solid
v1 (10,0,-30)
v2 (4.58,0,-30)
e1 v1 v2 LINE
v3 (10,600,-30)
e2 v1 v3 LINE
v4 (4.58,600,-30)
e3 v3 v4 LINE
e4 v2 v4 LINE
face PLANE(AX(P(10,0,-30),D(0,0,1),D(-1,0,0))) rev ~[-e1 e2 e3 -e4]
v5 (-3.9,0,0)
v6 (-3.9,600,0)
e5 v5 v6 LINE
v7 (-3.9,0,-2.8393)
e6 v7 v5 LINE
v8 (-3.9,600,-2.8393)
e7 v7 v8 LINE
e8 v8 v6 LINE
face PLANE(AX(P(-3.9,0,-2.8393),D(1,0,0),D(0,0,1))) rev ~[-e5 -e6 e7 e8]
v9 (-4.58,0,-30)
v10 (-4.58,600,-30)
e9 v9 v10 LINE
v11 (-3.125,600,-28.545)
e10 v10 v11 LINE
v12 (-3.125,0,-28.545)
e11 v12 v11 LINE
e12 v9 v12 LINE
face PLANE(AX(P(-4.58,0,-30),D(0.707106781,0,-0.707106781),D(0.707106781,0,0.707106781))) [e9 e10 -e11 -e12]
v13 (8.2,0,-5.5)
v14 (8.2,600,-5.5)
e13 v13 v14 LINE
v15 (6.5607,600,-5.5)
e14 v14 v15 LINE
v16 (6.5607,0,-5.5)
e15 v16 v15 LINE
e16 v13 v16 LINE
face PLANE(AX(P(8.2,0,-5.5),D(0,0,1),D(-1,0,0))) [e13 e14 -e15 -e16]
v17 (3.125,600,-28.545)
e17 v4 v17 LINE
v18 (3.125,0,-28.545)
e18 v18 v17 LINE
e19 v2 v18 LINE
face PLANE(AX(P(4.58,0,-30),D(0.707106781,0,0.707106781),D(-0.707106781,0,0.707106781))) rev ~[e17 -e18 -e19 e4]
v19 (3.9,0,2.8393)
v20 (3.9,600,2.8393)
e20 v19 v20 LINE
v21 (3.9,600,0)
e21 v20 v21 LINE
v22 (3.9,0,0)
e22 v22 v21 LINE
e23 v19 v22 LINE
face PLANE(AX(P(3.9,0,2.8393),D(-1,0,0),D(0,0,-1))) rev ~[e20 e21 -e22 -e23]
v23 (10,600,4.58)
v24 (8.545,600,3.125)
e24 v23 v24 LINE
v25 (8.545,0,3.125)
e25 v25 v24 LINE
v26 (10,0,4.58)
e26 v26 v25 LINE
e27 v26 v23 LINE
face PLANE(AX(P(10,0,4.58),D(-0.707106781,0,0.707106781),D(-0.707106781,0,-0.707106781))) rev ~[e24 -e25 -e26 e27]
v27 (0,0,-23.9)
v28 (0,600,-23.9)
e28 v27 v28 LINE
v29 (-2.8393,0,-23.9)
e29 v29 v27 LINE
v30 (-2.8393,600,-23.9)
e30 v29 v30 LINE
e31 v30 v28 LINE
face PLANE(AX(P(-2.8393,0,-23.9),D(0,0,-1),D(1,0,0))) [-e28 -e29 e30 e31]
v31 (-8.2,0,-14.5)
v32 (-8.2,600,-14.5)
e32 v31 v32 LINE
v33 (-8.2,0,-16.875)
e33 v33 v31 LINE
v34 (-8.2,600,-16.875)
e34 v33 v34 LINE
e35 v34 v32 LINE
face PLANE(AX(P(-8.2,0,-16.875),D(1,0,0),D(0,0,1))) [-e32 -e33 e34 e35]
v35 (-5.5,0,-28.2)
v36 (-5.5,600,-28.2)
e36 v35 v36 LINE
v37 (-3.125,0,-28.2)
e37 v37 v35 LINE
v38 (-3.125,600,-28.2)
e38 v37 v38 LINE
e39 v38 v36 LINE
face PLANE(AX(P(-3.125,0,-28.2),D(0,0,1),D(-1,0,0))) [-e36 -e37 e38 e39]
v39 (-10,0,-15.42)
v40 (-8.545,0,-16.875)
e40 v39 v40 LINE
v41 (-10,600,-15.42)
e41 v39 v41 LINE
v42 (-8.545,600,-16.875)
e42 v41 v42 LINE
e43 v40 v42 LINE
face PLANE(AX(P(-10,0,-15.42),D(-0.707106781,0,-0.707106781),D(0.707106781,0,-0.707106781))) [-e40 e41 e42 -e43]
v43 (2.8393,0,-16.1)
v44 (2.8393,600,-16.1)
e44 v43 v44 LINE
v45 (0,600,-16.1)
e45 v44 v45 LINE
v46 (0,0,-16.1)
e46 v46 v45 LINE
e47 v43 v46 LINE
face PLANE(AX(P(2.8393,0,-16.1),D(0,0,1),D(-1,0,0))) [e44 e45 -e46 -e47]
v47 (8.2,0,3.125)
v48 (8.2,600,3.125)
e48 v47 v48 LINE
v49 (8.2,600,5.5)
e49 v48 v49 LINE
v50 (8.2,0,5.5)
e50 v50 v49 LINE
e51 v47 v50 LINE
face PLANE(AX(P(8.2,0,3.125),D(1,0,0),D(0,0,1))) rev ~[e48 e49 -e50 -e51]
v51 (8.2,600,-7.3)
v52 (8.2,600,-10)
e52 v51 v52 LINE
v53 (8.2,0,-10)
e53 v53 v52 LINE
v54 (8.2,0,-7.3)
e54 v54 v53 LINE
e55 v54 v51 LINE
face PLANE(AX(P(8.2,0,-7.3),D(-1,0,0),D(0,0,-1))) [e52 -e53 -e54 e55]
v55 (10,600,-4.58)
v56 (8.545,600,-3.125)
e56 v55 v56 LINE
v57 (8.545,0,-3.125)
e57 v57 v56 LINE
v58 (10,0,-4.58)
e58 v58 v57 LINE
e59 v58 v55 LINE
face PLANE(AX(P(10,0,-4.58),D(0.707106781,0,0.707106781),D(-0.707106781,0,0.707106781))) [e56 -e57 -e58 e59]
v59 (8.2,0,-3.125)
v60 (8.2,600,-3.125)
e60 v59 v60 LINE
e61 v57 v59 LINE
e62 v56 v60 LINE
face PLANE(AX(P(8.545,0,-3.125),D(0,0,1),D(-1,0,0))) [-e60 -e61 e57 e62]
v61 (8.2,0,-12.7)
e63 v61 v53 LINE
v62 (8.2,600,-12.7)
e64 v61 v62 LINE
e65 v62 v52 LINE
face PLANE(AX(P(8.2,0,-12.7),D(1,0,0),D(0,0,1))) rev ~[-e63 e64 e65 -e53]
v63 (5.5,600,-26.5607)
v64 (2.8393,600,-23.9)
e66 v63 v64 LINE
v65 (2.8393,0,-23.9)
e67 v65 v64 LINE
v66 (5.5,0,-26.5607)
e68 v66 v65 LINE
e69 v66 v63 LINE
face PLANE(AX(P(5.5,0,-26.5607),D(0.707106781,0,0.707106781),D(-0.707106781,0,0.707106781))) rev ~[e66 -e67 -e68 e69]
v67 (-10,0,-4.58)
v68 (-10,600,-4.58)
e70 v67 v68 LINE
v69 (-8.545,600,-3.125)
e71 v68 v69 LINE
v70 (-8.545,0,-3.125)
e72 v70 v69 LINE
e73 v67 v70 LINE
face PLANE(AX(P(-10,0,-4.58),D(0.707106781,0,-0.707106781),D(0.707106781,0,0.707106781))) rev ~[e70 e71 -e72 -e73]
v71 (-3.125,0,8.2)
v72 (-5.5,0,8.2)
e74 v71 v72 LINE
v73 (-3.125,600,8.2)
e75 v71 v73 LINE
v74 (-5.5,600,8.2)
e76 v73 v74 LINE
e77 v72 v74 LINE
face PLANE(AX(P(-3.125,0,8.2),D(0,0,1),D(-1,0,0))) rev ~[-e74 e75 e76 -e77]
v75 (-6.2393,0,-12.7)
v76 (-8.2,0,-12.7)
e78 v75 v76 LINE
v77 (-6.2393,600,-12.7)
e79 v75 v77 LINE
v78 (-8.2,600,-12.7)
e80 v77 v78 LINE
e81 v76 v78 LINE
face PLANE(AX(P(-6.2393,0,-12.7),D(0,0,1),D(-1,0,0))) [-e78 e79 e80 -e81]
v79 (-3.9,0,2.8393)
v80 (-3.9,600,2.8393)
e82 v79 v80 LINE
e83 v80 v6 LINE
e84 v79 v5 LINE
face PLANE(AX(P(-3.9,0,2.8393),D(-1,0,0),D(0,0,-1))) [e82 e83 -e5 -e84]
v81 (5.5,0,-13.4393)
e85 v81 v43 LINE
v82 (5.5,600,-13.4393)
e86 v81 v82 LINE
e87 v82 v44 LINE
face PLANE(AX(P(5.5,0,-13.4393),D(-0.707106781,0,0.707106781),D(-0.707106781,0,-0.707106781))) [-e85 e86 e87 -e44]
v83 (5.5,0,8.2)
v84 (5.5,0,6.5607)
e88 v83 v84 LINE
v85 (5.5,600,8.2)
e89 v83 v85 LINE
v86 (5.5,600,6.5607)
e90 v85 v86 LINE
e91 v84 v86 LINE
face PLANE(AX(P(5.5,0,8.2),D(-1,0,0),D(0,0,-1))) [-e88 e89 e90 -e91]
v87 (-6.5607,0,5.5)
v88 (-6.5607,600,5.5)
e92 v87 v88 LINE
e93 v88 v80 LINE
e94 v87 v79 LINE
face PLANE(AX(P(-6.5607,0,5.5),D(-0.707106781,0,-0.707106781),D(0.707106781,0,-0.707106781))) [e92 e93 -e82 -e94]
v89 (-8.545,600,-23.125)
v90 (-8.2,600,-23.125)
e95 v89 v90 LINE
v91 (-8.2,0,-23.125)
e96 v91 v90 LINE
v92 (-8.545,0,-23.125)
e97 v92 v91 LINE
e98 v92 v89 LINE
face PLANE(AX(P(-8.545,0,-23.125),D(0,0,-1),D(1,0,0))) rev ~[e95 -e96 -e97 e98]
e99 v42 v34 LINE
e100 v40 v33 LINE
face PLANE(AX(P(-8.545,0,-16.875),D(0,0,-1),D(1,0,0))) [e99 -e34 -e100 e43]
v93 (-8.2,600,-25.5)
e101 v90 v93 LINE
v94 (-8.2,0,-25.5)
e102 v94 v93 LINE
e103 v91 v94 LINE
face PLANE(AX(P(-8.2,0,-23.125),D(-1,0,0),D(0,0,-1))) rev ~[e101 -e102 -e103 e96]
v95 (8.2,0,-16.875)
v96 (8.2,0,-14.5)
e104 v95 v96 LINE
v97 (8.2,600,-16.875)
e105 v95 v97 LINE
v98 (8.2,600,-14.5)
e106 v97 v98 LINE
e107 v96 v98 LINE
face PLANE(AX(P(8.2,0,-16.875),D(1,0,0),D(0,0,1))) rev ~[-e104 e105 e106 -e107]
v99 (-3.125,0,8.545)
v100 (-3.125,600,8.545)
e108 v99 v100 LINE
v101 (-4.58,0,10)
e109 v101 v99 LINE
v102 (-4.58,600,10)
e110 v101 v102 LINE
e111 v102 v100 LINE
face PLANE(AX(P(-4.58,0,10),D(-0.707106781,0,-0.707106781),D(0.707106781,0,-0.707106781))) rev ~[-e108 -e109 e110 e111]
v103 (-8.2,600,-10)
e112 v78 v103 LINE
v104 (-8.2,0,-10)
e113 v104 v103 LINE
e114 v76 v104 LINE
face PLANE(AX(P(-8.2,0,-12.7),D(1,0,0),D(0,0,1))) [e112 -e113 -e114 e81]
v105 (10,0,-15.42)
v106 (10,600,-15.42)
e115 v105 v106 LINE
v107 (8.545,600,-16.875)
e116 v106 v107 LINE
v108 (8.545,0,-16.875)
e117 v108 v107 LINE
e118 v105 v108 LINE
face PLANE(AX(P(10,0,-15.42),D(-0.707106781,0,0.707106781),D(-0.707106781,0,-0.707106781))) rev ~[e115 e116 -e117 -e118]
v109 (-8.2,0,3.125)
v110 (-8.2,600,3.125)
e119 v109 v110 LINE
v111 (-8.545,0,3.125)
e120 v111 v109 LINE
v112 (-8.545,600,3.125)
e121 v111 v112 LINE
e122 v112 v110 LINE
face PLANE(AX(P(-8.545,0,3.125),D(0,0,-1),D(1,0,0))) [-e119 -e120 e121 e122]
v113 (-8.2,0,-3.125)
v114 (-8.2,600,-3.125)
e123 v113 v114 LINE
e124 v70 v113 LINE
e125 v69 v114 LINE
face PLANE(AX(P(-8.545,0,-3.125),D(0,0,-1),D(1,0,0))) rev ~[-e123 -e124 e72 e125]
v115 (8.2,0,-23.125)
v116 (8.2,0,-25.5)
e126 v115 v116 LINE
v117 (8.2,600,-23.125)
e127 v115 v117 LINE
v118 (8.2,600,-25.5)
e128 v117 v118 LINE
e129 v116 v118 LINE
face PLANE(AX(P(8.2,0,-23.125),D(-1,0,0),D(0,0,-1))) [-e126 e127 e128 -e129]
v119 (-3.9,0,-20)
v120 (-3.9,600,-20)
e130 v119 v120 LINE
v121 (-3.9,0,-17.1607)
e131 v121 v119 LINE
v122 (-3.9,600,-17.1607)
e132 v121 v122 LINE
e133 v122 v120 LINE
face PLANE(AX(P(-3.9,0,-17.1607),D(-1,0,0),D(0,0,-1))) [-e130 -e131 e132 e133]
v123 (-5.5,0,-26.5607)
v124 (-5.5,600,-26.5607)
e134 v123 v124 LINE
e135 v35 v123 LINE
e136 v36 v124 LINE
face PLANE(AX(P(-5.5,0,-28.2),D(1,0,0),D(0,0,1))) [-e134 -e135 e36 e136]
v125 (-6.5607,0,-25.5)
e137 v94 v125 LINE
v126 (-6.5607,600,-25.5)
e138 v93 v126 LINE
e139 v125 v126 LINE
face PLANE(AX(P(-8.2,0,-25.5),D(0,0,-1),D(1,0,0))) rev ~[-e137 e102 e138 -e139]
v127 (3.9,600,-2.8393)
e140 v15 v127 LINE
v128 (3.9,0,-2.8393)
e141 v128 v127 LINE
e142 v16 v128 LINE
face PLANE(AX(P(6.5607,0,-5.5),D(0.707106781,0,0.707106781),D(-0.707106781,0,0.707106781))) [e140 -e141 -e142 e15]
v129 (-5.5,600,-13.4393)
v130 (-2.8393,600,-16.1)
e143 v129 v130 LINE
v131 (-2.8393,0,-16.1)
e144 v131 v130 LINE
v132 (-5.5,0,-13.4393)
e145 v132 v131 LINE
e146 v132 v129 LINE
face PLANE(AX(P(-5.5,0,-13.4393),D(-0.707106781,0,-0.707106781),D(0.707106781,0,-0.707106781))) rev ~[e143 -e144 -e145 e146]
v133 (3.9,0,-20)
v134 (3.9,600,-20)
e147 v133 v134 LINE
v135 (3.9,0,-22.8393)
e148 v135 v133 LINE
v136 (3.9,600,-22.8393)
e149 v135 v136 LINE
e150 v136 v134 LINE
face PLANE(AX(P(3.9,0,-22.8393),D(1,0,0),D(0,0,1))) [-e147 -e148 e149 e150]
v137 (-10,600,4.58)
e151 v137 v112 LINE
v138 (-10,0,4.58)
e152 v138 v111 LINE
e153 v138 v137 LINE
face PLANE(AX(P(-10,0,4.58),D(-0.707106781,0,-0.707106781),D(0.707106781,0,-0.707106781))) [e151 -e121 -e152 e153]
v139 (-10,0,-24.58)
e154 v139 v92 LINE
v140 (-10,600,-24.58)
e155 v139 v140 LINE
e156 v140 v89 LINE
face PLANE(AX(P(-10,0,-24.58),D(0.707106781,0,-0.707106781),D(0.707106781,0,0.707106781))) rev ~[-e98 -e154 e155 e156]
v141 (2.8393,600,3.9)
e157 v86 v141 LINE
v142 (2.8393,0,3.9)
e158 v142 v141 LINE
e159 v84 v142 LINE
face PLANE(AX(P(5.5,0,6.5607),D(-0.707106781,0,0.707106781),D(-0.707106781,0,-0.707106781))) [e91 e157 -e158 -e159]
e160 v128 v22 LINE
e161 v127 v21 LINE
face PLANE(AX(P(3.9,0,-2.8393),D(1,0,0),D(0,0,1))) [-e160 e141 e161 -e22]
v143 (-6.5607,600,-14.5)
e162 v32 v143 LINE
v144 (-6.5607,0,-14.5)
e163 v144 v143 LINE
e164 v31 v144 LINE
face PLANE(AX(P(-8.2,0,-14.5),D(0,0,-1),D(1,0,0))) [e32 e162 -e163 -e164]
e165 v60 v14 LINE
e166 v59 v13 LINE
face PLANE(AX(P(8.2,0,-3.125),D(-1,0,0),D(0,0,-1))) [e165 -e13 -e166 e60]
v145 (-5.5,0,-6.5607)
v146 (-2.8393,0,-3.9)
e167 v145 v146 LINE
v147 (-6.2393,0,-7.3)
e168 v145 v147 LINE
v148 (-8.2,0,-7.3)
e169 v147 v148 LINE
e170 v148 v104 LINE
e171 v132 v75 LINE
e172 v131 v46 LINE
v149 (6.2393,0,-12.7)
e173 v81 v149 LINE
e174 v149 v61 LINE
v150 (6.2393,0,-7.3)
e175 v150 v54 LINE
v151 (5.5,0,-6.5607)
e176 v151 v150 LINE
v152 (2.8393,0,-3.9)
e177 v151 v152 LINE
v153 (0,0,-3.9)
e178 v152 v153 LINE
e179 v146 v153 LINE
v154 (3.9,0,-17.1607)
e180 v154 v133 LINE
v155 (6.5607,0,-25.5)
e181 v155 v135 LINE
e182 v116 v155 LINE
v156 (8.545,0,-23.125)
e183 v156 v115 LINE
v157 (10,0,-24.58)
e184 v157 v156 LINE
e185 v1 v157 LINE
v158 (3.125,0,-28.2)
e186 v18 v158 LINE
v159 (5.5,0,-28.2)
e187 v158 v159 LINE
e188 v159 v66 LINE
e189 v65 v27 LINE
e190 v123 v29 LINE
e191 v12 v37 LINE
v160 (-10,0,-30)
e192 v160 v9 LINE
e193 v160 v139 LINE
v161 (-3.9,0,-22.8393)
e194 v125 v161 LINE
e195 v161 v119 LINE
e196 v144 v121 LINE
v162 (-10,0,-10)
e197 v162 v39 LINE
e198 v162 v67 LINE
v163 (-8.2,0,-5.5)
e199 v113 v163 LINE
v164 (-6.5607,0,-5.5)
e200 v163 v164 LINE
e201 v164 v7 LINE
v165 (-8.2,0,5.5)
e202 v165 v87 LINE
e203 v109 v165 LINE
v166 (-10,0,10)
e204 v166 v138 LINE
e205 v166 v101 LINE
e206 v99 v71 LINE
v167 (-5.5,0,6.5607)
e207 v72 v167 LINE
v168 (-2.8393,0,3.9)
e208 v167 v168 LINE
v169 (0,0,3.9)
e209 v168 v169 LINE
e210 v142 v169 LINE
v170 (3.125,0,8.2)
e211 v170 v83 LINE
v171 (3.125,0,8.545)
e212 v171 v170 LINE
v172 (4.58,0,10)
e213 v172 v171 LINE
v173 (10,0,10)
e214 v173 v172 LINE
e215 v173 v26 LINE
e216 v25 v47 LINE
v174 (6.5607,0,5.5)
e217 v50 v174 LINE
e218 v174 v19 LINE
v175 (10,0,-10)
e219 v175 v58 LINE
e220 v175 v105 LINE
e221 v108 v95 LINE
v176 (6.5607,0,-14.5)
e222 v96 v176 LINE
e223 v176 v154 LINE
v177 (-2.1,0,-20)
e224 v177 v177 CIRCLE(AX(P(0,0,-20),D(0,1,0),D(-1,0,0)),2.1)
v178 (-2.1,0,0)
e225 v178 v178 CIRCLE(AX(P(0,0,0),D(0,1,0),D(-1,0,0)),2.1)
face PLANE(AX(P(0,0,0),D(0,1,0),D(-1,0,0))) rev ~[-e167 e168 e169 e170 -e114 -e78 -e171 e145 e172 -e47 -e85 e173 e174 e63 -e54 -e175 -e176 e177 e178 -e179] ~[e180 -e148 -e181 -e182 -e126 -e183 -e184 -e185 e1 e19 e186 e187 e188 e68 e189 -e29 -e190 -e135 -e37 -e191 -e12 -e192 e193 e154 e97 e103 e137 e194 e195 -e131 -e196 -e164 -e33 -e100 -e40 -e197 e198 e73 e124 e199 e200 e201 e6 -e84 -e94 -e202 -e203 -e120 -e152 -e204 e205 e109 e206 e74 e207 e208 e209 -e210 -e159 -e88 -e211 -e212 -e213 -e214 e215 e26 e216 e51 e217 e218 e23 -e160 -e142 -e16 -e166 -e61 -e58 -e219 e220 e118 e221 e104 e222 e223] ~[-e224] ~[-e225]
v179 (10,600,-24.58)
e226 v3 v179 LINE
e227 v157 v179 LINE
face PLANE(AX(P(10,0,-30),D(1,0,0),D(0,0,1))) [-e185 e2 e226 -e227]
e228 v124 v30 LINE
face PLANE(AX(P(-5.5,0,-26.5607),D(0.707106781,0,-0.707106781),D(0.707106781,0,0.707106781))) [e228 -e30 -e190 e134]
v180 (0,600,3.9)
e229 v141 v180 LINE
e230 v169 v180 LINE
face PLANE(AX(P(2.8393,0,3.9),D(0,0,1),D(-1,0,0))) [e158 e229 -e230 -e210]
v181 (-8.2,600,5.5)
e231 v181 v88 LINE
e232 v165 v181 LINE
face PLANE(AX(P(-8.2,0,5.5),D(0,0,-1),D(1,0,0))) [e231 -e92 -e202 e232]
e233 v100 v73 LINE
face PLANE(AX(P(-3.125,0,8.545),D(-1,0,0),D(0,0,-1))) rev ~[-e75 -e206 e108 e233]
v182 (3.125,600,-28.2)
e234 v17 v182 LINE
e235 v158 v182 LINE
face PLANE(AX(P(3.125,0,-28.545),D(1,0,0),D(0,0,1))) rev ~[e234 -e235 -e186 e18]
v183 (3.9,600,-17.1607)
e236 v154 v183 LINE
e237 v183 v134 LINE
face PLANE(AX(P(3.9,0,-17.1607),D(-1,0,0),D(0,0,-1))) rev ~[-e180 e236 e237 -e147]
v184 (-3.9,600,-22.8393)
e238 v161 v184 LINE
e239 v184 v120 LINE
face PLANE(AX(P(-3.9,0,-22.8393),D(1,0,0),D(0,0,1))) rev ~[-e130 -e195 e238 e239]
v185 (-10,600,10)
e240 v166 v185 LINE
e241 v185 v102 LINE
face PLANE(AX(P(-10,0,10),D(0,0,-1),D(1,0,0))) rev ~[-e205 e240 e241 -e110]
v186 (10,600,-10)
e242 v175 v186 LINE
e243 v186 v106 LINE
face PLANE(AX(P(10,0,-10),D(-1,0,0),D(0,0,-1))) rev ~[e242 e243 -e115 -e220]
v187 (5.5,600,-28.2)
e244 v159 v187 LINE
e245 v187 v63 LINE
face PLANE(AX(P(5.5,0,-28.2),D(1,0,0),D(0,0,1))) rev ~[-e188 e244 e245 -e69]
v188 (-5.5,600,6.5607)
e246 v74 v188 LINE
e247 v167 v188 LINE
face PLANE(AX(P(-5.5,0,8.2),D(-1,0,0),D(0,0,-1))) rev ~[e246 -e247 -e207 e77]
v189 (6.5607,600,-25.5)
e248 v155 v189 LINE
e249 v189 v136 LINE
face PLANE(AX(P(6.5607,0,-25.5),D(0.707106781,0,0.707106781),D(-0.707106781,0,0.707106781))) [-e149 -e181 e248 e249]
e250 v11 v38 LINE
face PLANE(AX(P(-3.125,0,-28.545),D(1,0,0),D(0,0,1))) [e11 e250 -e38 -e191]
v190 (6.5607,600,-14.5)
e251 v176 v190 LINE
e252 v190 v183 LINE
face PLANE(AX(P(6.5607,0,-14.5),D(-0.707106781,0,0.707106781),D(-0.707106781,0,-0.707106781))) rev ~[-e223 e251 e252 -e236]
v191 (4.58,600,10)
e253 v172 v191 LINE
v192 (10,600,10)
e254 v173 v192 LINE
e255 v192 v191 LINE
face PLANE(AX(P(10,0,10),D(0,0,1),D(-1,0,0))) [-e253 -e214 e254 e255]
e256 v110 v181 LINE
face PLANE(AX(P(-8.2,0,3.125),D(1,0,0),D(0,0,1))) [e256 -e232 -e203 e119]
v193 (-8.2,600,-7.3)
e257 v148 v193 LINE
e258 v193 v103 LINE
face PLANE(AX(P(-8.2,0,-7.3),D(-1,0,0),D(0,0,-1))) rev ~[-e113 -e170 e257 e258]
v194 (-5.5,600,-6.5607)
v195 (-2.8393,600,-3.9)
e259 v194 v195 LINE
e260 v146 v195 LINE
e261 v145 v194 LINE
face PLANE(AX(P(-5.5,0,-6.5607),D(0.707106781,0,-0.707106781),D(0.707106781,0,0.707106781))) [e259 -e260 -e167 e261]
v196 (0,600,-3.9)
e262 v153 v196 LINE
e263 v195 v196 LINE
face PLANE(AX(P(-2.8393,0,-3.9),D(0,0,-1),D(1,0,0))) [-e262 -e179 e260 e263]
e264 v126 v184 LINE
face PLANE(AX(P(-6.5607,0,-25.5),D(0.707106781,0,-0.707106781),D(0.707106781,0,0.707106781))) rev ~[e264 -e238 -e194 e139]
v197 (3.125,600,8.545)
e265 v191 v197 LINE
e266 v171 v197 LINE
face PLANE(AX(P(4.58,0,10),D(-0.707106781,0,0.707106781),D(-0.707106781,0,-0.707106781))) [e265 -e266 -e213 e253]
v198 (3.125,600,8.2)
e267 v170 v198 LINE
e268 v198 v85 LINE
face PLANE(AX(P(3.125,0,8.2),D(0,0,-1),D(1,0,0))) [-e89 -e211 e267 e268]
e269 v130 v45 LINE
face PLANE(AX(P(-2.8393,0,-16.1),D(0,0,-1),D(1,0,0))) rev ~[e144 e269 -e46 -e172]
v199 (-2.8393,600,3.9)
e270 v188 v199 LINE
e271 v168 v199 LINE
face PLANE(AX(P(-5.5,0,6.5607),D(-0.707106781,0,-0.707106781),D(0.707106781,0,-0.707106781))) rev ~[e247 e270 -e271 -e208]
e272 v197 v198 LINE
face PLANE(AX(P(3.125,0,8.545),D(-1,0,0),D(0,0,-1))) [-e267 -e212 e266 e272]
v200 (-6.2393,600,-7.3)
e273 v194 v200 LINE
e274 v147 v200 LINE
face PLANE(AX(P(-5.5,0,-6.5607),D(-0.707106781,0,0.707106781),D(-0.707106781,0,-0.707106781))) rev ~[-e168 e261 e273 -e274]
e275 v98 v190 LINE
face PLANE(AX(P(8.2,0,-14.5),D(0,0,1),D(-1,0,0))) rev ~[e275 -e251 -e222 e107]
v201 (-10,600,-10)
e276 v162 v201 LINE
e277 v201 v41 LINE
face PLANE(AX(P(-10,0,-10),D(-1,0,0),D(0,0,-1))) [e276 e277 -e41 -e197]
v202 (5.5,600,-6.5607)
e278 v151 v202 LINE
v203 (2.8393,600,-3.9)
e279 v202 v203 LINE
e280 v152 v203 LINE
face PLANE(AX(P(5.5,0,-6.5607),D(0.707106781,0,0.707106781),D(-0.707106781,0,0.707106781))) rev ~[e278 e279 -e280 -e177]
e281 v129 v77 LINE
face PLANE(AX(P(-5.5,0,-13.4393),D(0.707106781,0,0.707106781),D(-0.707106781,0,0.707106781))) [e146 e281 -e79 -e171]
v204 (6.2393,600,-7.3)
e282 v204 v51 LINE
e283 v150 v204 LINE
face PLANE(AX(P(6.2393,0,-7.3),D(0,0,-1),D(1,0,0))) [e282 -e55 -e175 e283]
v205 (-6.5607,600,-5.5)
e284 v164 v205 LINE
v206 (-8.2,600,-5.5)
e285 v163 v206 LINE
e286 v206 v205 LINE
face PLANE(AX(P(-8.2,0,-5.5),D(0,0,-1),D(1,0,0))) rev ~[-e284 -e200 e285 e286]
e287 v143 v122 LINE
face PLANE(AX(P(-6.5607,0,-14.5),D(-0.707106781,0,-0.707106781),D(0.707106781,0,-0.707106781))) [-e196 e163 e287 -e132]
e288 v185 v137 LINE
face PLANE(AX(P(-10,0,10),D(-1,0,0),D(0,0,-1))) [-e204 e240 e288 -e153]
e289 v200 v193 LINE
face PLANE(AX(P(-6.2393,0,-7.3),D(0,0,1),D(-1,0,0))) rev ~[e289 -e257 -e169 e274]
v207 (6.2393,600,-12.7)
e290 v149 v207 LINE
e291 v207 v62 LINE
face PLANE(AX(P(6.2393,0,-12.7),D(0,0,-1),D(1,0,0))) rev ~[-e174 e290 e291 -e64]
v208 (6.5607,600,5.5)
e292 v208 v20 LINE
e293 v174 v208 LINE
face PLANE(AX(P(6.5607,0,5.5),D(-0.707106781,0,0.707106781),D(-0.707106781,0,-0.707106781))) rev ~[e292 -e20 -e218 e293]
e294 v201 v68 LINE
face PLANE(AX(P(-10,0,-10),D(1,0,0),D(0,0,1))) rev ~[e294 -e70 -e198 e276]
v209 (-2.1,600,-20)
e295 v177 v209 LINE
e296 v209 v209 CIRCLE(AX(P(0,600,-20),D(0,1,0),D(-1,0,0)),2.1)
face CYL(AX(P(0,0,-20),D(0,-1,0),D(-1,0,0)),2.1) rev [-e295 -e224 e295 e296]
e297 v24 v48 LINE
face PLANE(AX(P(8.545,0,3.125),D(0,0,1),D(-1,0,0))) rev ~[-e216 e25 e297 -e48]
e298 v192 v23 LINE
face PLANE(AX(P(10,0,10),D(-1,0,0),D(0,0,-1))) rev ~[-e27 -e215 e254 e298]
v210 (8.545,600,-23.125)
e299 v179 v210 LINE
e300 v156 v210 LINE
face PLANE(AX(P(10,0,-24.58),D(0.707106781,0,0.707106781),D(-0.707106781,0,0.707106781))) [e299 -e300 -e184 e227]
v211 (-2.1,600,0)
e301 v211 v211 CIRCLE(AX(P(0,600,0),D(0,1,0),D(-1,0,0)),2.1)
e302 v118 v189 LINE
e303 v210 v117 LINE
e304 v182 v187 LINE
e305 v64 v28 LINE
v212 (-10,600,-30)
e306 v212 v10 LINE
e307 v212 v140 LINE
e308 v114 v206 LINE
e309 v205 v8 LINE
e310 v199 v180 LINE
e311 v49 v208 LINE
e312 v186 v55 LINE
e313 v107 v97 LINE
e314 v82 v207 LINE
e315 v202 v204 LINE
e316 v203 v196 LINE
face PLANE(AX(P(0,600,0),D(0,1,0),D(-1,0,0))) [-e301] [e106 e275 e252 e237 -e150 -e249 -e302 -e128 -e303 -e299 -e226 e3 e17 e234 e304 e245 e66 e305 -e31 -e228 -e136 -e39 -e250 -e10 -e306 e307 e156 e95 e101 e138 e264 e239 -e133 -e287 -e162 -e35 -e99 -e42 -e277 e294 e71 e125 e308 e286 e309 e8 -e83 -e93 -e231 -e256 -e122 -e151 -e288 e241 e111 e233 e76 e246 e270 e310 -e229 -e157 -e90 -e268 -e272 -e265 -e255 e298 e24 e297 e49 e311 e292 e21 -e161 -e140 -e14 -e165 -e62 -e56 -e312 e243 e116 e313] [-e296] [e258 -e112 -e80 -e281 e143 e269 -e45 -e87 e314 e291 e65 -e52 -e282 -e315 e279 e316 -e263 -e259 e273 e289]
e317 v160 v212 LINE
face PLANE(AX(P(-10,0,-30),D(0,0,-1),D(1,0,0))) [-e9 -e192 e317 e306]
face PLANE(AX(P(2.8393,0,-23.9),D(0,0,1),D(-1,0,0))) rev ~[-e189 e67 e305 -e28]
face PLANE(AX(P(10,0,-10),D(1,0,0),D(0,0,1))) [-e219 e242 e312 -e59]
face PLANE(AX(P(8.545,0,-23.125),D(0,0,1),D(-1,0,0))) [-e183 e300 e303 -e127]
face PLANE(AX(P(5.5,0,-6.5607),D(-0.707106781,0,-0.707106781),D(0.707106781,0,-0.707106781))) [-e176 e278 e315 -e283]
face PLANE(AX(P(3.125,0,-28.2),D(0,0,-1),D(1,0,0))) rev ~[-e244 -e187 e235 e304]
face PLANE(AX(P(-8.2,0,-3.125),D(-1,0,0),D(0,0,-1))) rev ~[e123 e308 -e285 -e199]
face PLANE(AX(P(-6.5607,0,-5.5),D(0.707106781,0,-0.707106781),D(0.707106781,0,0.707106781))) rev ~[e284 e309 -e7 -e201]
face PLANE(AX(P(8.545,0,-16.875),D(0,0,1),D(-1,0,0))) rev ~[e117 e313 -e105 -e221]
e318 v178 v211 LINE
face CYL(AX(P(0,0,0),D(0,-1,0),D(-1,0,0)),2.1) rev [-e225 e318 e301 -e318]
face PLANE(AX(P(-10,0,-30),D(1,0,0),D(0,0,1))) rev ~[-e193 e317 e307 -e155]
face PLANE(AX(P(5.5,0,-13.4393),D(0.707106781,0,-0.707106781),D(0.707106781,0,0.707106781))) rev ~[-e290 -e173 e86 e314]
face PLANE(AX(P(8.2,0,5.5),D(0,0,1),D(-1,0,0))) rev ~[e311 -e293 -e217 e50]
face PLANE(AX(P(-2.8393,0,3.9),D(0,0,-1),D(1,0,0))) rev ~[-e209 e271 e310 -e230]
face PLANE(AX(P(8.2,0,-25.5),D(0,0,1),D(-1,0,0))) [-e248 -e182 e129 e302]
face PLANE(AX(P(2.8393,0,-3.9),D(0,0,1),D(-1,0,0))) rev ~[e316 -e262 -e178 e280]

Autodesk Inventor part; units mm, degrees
ref_plane "YZ Plane" through (0, 0, 0) normal (1, 0, 0) x (0, 1, 0)
ref_plane "XZ Plane" through (0, 0, 0) normal (0, 1, 0) x (-1, 0, 0)
ref_plane "XY Plane" through (0, 0, 0) normal (0, 0, 1) x (1, 0, 0)
sketch "Sketch1" plane through (0, 0, 0) normal (0, 1, 0) x (-1, 0, 0)
  circle A0 centre (0, 0) radius 2.1
  line L0 (10, 10) -> (-10, 10) construction
  line L1 (-10, 10) -> (-10, -10) construction
  line L2 (-10, -10) -> (10, -10) construction
  line L3 (10, -10) -> (10, 10) construction
  line L4 (10, 10) -> (-10, -10) construction
  line L5 (-10, 10) -> (10, -10) construction
  line L6 (8.2, 10) -> (8.2, -10) construction
  line L7 (3.9, 10) -> (3.9, -10) construction
  line L8 (8.2, 3.125) -> (8.2, -3.125) construction
  line L9 (10, 4.58) -> (10, -4.58) construction
  line L10 (8.2, 5.5) -> (8.2, -5.5) construction
  line L11 (3.3697, 4.4303) -> (4.4303, 3.3697) construction
  line L12 (10, 10) -> (10, 4.58)
  line L13 (10, 4.58) -> (8.545, 3.125)
  line L14 (8.545, 3.125) -> (8.2, 3.125)
  line L15 (8.2, 3.125) -> (8.2, 5.5)
  line L16 (14, 0) -> (-14, 0) construction
  line L17 (8.2, 5.5) -> (6.5607, 5.5)
  line L18 (6.5607, 5.5) -> (3.9, 2.8393)
  line L19 (3.9, 2.8393) -> (3.9, 0)
  line L20 (10, -10) -> (10, -4.58)
  line L21 (10, -4.58) -> (8.545, -3.125)
  line L22 (8.545, -3.125) -> (8.2, -3.125)
  line L23 (8.2, -3.125) -> (8.2, -5.5)
  line L24 (8.2, -5.5) -> (6.5607, -5.5)
  line L25 (6.5607, -5.5) -> (3.9, -2.8393)
  line L26 (3.9, -2.8393) -> (3.9, 0)
  line L27 (-10, 10) -> (-4.58, 10)
  line L28 (-4.58, 10) -> (-3.125, 8.545)
  line L29 (-3.125, 8.2) -> (-5.5, 8.2)
  line L30 (-5.5, 8.2) -> (-5.5, 6.5607)
  line L31 (-5.5, 6.5607) -> (-2.8393, 3.9)
  line L32 (-2.8393, 3.9) -> (0, 3.9)
  line L33 (2.8393, 3.9) -> (0, 3.9)
  line L34 (5.5, 6.5607) -> (2.8393, 3.9)
  line L35 (5.5, 8.2) -> (5.5, 6.5607)
  line L36 (3.125, 8.2) -> (5.5, 8.2)
  line L37 (3.125, 8.545) -> (3.125, 8.2)
  line L38 (4.58, 10) -> (3.125, 8.545)
  line L39 (-3.125, 8.545) -> (-3.125, 8.2)
  line L40 (10, 10) -> (4.58, 10)
  line L41 (-10, -10) -> (-10, -4.58)
  line L42 (-10, -4.58) -> (-8.545, -3.125)
  line L43 (-8.2, -3.125) -> (-8.2, -5.5)
  line L44 (-8.2, -5.5) -> (-6.5607, -5.5)
  line L45 (-6.5607, -5.5) -> (-3.9, -2.8393)
  line L46 (-3.9, -2.8393) -> (-3.9, 0)
  line L47 (-3.9, 2.8393) -> (-3.9, 0)
  line L48 (-6.5607, 5.5) -> (-3.9, 2.8393)
  line L49 (-8.2, 5.5) -> (-6.5607, 5.5)
  line L50 (-8.2, 3.125) -> (-8.2, 5.5)
  line L51 (-8.545, 3.125) -> (-8.2, 3.125)
  line L52 (-10, 4.58) -> (-8.545, 3.125)
  line L53 (-8.545, -3.125) -> (-8.2, -3.125)
  line L54 (-10, 10) -> (-10, 4.58)
  line L55 (10, -10) -> (4.58, -10) construction
  line L56 (4.58, -10) -> (3.125, -8.545) construction
  line L57 (3.125, -8.2) -> (5.5, -8.2) construction
  line L58 (5.5, -8.2) -> (5.5, -6.5607) construction
  line L59 (5.5, -6.5607) -> (2.8393, -3.9)
  line L60 (2.8393, -3.9) -> (0, -3.9)
  line L61 (-2.8393, -3.9) -> (0, -3.9)
  line L62 (-5.5, -6.5607) -> (-2.8393, -3.9)
  line L63 (-5.5, -8.2) -> (-5.5, -6.5607) construction
  line L64 (-3.125, -8.2) -> (-5.5, -8.2) construction
  line L65 (-3.125, -8.545) -> (-3.125, -8.2) construction
  line L66 (-4.58, -10) -> (-3.125, -8.545) construction
  line L67 (3.125, -8.545) -> (3.125, -8.2) construction
  line L68 (-10, -10) -> (-4.58, -10) construction
  line L69 (5.5, -6.5607) -> (6.2393, -7.3)
  line L70 (6.2393, -7.3) -> (8.2, -7.3)
  line L71 (0, -10) -> (0, -9) construction
  line L72 (-5.5, -6.5607) -> (-6.2393, -7.3)
  line L73 (-6.2393, -7.3) -> (-8.2, -7.3)
  line L74 (8.2, -7.3) -> (8.2, -10)
  line L75 (-8.2, -7.3) -> (-8.2, -10)
  circle A1 centre (0, -20) radius 2.1
  line L76 (10, -30) -> (10, -24.58)
  line L77 (10, -24.58) -> (8.545, -23.125)
  line L78 (8.545, -23.125) -> (8.2, -23.125)
  line L79 (8.2, -23.125) -> (8.2, -25.5)
  line L80 (8.2, -25.5) -> (6.5607, -25.5)
  line L81 (6.5607, -25.5) -> (3.9, -22.8393)
  line L82 (3.9, -22.8393) -> (3.9, -20)
  line L83 (10, -10) -> (10, -15.42)
  line L84 (10, -15.42) -> (8.545, -16.875)
  line L85 (8.2, -16.875) -> (8.2, -14.5)
  line L86 (8.2, -14.5) -> (6.5607, -14.5)
  line L87 (6.5607, -14.5) -> (3.9, -17.1607)
  line L88 (3.9, -17.1607) -> (3.9, -20)
  line L89 (-10, -30) -> (-4.58, -30)
  line L90 (-4.58, -30) -> (-3.125, -28.545)
  line L91 (-3.125, -28.2) -> (-5.5, -28.2)
  line L92 (-5.5, -28.2) -> (-5.5, -26.5607)
  line L93 (-5.5, -26.5607) -> (-2.8393, -23.9)
  line L94 (-2.8393, -23.9) -> (0, -23.9)
  line L95 (2.8393, -23.9) -> (0, -23.9)
  line L96 (5.5, -26.5607) -> (2.8393, -23.9)
  line L97 (5.5, -28.2) -> (5.5, -26.5607)
  line L98 (3.125, -28.2) -> (5.5, -28.2)
  line L99 (3.125, -28.545) -> (3.125, -28.2)
  line L100 (4.58, -30) -> (3.125, -28.545)
  line L101 (-3.125, -28.545) -> (-3.125, -28.2)
  line L102 (10, -30) -> (4.58, -30)
  line L103 (-10, -10) -> (-10, -15.42)
  line L104 (-10, -15.42) -> (-8.545, -16.875)
  line L105 (-8.2, -16.875) -> (-8.2, -14.5)
  line L106 (-8.2, -14.5) -> (-6.5607, -14.5)
  line L107 (-6.5607, -14.5) -> (-3.9, -17.1607)
  line L108 (-3.9, -17.1607) -> (-3.9, -20)
  line L109 (-3.9, -22.8393) -> (-3.9, -20)
  line L110 (-6.5607, -25.5) -> (-3.9, -22.8393)
  line L111 (-8.2, -25.5) -> (-6.5607, -25.5)
  line L112 (-8.2, -23.125) -> (-8.2, -25.5)
  line L113 (-8.545, -23.125) -> (-8.2, -23.125)
  line L114 (-10, -24.58) -> (-8.545, -23.125)
  line L115 (-8.545, -16.875) -> (-8.2, -16.875)
  line L116 (-10, -30) -> (-10, -24.58)
  line L117 (5.5, -13.4393) -> (2.8393, -16.1)
  line L118 (2.8393, -16.1) -> (0, -16.1)
  line L119 (-2.8393, -16.1) -> (0, -16.1)
  line L120 (-5.5, -13.4393) -> (-2.8393, -16.1)
  line L121 (5.5, -13.4393) -> (6.2393, -12.7)
  line L122 (6.2393, -12.7) -> (8.2, -12.7)
  line L123 (-5.5, -13.4393) -> (-6.2393, -12.7)
  line L124 (-6.2393, -12.7) -> (-8.2, -12.7)
  line L125 (8.2, -12.7) -> (8.2, -10)
  line L126 (-8.2, -12.7) -> (-8.2, -10)
  line L127 (8.545, -16.875) -> (8.2, -16.875)
  point P0 (10, 0)
  point P1 (8.2, 0)
  point P2 (3.9, 3.9)
  point P3 (-3.3697, 4.4303)
  point P4 (-4.4303, -3.3697)
  point P5 (3.3697, -4.4303)
  dimension "d0" = 4.2
  dimension "d1" = 20
  dimension "d2" = 20
  dimension "d3" = 1.8
  dimension "d4" = 4.3
  dimension "d5" = 6.25
  dimension "d6" = 9.16
  dimension "d7" = 11
  dimension "d8" = 1.5
  dimension "d9" = 45
  dimension "d12" = 360
  dimension "d17" = 1.8
  dimension "d18" = 1
extrude "Extrusion1" add sketch "Sketch1" along normal blind 600
ref_plane "Work Plane1" through (-2.8393, 0, 0) normal (0, 0, -1) x (-1, 0, 0)
ref_plane "Work Plane2" through (0, 0, 4.58) normal (1, 0, 0) x (0, 0, -1)
ref_plane "Work Plane3" through (0, 300, 0) normal (0, 1, 0) x (1, 0, 0)
ref_plane "Work Plane4" through (2.8393, 0, -20) normal (0, 0, 1) x (1, 0, 0)
properties part number "VSLOT 2020 Extrusion"
